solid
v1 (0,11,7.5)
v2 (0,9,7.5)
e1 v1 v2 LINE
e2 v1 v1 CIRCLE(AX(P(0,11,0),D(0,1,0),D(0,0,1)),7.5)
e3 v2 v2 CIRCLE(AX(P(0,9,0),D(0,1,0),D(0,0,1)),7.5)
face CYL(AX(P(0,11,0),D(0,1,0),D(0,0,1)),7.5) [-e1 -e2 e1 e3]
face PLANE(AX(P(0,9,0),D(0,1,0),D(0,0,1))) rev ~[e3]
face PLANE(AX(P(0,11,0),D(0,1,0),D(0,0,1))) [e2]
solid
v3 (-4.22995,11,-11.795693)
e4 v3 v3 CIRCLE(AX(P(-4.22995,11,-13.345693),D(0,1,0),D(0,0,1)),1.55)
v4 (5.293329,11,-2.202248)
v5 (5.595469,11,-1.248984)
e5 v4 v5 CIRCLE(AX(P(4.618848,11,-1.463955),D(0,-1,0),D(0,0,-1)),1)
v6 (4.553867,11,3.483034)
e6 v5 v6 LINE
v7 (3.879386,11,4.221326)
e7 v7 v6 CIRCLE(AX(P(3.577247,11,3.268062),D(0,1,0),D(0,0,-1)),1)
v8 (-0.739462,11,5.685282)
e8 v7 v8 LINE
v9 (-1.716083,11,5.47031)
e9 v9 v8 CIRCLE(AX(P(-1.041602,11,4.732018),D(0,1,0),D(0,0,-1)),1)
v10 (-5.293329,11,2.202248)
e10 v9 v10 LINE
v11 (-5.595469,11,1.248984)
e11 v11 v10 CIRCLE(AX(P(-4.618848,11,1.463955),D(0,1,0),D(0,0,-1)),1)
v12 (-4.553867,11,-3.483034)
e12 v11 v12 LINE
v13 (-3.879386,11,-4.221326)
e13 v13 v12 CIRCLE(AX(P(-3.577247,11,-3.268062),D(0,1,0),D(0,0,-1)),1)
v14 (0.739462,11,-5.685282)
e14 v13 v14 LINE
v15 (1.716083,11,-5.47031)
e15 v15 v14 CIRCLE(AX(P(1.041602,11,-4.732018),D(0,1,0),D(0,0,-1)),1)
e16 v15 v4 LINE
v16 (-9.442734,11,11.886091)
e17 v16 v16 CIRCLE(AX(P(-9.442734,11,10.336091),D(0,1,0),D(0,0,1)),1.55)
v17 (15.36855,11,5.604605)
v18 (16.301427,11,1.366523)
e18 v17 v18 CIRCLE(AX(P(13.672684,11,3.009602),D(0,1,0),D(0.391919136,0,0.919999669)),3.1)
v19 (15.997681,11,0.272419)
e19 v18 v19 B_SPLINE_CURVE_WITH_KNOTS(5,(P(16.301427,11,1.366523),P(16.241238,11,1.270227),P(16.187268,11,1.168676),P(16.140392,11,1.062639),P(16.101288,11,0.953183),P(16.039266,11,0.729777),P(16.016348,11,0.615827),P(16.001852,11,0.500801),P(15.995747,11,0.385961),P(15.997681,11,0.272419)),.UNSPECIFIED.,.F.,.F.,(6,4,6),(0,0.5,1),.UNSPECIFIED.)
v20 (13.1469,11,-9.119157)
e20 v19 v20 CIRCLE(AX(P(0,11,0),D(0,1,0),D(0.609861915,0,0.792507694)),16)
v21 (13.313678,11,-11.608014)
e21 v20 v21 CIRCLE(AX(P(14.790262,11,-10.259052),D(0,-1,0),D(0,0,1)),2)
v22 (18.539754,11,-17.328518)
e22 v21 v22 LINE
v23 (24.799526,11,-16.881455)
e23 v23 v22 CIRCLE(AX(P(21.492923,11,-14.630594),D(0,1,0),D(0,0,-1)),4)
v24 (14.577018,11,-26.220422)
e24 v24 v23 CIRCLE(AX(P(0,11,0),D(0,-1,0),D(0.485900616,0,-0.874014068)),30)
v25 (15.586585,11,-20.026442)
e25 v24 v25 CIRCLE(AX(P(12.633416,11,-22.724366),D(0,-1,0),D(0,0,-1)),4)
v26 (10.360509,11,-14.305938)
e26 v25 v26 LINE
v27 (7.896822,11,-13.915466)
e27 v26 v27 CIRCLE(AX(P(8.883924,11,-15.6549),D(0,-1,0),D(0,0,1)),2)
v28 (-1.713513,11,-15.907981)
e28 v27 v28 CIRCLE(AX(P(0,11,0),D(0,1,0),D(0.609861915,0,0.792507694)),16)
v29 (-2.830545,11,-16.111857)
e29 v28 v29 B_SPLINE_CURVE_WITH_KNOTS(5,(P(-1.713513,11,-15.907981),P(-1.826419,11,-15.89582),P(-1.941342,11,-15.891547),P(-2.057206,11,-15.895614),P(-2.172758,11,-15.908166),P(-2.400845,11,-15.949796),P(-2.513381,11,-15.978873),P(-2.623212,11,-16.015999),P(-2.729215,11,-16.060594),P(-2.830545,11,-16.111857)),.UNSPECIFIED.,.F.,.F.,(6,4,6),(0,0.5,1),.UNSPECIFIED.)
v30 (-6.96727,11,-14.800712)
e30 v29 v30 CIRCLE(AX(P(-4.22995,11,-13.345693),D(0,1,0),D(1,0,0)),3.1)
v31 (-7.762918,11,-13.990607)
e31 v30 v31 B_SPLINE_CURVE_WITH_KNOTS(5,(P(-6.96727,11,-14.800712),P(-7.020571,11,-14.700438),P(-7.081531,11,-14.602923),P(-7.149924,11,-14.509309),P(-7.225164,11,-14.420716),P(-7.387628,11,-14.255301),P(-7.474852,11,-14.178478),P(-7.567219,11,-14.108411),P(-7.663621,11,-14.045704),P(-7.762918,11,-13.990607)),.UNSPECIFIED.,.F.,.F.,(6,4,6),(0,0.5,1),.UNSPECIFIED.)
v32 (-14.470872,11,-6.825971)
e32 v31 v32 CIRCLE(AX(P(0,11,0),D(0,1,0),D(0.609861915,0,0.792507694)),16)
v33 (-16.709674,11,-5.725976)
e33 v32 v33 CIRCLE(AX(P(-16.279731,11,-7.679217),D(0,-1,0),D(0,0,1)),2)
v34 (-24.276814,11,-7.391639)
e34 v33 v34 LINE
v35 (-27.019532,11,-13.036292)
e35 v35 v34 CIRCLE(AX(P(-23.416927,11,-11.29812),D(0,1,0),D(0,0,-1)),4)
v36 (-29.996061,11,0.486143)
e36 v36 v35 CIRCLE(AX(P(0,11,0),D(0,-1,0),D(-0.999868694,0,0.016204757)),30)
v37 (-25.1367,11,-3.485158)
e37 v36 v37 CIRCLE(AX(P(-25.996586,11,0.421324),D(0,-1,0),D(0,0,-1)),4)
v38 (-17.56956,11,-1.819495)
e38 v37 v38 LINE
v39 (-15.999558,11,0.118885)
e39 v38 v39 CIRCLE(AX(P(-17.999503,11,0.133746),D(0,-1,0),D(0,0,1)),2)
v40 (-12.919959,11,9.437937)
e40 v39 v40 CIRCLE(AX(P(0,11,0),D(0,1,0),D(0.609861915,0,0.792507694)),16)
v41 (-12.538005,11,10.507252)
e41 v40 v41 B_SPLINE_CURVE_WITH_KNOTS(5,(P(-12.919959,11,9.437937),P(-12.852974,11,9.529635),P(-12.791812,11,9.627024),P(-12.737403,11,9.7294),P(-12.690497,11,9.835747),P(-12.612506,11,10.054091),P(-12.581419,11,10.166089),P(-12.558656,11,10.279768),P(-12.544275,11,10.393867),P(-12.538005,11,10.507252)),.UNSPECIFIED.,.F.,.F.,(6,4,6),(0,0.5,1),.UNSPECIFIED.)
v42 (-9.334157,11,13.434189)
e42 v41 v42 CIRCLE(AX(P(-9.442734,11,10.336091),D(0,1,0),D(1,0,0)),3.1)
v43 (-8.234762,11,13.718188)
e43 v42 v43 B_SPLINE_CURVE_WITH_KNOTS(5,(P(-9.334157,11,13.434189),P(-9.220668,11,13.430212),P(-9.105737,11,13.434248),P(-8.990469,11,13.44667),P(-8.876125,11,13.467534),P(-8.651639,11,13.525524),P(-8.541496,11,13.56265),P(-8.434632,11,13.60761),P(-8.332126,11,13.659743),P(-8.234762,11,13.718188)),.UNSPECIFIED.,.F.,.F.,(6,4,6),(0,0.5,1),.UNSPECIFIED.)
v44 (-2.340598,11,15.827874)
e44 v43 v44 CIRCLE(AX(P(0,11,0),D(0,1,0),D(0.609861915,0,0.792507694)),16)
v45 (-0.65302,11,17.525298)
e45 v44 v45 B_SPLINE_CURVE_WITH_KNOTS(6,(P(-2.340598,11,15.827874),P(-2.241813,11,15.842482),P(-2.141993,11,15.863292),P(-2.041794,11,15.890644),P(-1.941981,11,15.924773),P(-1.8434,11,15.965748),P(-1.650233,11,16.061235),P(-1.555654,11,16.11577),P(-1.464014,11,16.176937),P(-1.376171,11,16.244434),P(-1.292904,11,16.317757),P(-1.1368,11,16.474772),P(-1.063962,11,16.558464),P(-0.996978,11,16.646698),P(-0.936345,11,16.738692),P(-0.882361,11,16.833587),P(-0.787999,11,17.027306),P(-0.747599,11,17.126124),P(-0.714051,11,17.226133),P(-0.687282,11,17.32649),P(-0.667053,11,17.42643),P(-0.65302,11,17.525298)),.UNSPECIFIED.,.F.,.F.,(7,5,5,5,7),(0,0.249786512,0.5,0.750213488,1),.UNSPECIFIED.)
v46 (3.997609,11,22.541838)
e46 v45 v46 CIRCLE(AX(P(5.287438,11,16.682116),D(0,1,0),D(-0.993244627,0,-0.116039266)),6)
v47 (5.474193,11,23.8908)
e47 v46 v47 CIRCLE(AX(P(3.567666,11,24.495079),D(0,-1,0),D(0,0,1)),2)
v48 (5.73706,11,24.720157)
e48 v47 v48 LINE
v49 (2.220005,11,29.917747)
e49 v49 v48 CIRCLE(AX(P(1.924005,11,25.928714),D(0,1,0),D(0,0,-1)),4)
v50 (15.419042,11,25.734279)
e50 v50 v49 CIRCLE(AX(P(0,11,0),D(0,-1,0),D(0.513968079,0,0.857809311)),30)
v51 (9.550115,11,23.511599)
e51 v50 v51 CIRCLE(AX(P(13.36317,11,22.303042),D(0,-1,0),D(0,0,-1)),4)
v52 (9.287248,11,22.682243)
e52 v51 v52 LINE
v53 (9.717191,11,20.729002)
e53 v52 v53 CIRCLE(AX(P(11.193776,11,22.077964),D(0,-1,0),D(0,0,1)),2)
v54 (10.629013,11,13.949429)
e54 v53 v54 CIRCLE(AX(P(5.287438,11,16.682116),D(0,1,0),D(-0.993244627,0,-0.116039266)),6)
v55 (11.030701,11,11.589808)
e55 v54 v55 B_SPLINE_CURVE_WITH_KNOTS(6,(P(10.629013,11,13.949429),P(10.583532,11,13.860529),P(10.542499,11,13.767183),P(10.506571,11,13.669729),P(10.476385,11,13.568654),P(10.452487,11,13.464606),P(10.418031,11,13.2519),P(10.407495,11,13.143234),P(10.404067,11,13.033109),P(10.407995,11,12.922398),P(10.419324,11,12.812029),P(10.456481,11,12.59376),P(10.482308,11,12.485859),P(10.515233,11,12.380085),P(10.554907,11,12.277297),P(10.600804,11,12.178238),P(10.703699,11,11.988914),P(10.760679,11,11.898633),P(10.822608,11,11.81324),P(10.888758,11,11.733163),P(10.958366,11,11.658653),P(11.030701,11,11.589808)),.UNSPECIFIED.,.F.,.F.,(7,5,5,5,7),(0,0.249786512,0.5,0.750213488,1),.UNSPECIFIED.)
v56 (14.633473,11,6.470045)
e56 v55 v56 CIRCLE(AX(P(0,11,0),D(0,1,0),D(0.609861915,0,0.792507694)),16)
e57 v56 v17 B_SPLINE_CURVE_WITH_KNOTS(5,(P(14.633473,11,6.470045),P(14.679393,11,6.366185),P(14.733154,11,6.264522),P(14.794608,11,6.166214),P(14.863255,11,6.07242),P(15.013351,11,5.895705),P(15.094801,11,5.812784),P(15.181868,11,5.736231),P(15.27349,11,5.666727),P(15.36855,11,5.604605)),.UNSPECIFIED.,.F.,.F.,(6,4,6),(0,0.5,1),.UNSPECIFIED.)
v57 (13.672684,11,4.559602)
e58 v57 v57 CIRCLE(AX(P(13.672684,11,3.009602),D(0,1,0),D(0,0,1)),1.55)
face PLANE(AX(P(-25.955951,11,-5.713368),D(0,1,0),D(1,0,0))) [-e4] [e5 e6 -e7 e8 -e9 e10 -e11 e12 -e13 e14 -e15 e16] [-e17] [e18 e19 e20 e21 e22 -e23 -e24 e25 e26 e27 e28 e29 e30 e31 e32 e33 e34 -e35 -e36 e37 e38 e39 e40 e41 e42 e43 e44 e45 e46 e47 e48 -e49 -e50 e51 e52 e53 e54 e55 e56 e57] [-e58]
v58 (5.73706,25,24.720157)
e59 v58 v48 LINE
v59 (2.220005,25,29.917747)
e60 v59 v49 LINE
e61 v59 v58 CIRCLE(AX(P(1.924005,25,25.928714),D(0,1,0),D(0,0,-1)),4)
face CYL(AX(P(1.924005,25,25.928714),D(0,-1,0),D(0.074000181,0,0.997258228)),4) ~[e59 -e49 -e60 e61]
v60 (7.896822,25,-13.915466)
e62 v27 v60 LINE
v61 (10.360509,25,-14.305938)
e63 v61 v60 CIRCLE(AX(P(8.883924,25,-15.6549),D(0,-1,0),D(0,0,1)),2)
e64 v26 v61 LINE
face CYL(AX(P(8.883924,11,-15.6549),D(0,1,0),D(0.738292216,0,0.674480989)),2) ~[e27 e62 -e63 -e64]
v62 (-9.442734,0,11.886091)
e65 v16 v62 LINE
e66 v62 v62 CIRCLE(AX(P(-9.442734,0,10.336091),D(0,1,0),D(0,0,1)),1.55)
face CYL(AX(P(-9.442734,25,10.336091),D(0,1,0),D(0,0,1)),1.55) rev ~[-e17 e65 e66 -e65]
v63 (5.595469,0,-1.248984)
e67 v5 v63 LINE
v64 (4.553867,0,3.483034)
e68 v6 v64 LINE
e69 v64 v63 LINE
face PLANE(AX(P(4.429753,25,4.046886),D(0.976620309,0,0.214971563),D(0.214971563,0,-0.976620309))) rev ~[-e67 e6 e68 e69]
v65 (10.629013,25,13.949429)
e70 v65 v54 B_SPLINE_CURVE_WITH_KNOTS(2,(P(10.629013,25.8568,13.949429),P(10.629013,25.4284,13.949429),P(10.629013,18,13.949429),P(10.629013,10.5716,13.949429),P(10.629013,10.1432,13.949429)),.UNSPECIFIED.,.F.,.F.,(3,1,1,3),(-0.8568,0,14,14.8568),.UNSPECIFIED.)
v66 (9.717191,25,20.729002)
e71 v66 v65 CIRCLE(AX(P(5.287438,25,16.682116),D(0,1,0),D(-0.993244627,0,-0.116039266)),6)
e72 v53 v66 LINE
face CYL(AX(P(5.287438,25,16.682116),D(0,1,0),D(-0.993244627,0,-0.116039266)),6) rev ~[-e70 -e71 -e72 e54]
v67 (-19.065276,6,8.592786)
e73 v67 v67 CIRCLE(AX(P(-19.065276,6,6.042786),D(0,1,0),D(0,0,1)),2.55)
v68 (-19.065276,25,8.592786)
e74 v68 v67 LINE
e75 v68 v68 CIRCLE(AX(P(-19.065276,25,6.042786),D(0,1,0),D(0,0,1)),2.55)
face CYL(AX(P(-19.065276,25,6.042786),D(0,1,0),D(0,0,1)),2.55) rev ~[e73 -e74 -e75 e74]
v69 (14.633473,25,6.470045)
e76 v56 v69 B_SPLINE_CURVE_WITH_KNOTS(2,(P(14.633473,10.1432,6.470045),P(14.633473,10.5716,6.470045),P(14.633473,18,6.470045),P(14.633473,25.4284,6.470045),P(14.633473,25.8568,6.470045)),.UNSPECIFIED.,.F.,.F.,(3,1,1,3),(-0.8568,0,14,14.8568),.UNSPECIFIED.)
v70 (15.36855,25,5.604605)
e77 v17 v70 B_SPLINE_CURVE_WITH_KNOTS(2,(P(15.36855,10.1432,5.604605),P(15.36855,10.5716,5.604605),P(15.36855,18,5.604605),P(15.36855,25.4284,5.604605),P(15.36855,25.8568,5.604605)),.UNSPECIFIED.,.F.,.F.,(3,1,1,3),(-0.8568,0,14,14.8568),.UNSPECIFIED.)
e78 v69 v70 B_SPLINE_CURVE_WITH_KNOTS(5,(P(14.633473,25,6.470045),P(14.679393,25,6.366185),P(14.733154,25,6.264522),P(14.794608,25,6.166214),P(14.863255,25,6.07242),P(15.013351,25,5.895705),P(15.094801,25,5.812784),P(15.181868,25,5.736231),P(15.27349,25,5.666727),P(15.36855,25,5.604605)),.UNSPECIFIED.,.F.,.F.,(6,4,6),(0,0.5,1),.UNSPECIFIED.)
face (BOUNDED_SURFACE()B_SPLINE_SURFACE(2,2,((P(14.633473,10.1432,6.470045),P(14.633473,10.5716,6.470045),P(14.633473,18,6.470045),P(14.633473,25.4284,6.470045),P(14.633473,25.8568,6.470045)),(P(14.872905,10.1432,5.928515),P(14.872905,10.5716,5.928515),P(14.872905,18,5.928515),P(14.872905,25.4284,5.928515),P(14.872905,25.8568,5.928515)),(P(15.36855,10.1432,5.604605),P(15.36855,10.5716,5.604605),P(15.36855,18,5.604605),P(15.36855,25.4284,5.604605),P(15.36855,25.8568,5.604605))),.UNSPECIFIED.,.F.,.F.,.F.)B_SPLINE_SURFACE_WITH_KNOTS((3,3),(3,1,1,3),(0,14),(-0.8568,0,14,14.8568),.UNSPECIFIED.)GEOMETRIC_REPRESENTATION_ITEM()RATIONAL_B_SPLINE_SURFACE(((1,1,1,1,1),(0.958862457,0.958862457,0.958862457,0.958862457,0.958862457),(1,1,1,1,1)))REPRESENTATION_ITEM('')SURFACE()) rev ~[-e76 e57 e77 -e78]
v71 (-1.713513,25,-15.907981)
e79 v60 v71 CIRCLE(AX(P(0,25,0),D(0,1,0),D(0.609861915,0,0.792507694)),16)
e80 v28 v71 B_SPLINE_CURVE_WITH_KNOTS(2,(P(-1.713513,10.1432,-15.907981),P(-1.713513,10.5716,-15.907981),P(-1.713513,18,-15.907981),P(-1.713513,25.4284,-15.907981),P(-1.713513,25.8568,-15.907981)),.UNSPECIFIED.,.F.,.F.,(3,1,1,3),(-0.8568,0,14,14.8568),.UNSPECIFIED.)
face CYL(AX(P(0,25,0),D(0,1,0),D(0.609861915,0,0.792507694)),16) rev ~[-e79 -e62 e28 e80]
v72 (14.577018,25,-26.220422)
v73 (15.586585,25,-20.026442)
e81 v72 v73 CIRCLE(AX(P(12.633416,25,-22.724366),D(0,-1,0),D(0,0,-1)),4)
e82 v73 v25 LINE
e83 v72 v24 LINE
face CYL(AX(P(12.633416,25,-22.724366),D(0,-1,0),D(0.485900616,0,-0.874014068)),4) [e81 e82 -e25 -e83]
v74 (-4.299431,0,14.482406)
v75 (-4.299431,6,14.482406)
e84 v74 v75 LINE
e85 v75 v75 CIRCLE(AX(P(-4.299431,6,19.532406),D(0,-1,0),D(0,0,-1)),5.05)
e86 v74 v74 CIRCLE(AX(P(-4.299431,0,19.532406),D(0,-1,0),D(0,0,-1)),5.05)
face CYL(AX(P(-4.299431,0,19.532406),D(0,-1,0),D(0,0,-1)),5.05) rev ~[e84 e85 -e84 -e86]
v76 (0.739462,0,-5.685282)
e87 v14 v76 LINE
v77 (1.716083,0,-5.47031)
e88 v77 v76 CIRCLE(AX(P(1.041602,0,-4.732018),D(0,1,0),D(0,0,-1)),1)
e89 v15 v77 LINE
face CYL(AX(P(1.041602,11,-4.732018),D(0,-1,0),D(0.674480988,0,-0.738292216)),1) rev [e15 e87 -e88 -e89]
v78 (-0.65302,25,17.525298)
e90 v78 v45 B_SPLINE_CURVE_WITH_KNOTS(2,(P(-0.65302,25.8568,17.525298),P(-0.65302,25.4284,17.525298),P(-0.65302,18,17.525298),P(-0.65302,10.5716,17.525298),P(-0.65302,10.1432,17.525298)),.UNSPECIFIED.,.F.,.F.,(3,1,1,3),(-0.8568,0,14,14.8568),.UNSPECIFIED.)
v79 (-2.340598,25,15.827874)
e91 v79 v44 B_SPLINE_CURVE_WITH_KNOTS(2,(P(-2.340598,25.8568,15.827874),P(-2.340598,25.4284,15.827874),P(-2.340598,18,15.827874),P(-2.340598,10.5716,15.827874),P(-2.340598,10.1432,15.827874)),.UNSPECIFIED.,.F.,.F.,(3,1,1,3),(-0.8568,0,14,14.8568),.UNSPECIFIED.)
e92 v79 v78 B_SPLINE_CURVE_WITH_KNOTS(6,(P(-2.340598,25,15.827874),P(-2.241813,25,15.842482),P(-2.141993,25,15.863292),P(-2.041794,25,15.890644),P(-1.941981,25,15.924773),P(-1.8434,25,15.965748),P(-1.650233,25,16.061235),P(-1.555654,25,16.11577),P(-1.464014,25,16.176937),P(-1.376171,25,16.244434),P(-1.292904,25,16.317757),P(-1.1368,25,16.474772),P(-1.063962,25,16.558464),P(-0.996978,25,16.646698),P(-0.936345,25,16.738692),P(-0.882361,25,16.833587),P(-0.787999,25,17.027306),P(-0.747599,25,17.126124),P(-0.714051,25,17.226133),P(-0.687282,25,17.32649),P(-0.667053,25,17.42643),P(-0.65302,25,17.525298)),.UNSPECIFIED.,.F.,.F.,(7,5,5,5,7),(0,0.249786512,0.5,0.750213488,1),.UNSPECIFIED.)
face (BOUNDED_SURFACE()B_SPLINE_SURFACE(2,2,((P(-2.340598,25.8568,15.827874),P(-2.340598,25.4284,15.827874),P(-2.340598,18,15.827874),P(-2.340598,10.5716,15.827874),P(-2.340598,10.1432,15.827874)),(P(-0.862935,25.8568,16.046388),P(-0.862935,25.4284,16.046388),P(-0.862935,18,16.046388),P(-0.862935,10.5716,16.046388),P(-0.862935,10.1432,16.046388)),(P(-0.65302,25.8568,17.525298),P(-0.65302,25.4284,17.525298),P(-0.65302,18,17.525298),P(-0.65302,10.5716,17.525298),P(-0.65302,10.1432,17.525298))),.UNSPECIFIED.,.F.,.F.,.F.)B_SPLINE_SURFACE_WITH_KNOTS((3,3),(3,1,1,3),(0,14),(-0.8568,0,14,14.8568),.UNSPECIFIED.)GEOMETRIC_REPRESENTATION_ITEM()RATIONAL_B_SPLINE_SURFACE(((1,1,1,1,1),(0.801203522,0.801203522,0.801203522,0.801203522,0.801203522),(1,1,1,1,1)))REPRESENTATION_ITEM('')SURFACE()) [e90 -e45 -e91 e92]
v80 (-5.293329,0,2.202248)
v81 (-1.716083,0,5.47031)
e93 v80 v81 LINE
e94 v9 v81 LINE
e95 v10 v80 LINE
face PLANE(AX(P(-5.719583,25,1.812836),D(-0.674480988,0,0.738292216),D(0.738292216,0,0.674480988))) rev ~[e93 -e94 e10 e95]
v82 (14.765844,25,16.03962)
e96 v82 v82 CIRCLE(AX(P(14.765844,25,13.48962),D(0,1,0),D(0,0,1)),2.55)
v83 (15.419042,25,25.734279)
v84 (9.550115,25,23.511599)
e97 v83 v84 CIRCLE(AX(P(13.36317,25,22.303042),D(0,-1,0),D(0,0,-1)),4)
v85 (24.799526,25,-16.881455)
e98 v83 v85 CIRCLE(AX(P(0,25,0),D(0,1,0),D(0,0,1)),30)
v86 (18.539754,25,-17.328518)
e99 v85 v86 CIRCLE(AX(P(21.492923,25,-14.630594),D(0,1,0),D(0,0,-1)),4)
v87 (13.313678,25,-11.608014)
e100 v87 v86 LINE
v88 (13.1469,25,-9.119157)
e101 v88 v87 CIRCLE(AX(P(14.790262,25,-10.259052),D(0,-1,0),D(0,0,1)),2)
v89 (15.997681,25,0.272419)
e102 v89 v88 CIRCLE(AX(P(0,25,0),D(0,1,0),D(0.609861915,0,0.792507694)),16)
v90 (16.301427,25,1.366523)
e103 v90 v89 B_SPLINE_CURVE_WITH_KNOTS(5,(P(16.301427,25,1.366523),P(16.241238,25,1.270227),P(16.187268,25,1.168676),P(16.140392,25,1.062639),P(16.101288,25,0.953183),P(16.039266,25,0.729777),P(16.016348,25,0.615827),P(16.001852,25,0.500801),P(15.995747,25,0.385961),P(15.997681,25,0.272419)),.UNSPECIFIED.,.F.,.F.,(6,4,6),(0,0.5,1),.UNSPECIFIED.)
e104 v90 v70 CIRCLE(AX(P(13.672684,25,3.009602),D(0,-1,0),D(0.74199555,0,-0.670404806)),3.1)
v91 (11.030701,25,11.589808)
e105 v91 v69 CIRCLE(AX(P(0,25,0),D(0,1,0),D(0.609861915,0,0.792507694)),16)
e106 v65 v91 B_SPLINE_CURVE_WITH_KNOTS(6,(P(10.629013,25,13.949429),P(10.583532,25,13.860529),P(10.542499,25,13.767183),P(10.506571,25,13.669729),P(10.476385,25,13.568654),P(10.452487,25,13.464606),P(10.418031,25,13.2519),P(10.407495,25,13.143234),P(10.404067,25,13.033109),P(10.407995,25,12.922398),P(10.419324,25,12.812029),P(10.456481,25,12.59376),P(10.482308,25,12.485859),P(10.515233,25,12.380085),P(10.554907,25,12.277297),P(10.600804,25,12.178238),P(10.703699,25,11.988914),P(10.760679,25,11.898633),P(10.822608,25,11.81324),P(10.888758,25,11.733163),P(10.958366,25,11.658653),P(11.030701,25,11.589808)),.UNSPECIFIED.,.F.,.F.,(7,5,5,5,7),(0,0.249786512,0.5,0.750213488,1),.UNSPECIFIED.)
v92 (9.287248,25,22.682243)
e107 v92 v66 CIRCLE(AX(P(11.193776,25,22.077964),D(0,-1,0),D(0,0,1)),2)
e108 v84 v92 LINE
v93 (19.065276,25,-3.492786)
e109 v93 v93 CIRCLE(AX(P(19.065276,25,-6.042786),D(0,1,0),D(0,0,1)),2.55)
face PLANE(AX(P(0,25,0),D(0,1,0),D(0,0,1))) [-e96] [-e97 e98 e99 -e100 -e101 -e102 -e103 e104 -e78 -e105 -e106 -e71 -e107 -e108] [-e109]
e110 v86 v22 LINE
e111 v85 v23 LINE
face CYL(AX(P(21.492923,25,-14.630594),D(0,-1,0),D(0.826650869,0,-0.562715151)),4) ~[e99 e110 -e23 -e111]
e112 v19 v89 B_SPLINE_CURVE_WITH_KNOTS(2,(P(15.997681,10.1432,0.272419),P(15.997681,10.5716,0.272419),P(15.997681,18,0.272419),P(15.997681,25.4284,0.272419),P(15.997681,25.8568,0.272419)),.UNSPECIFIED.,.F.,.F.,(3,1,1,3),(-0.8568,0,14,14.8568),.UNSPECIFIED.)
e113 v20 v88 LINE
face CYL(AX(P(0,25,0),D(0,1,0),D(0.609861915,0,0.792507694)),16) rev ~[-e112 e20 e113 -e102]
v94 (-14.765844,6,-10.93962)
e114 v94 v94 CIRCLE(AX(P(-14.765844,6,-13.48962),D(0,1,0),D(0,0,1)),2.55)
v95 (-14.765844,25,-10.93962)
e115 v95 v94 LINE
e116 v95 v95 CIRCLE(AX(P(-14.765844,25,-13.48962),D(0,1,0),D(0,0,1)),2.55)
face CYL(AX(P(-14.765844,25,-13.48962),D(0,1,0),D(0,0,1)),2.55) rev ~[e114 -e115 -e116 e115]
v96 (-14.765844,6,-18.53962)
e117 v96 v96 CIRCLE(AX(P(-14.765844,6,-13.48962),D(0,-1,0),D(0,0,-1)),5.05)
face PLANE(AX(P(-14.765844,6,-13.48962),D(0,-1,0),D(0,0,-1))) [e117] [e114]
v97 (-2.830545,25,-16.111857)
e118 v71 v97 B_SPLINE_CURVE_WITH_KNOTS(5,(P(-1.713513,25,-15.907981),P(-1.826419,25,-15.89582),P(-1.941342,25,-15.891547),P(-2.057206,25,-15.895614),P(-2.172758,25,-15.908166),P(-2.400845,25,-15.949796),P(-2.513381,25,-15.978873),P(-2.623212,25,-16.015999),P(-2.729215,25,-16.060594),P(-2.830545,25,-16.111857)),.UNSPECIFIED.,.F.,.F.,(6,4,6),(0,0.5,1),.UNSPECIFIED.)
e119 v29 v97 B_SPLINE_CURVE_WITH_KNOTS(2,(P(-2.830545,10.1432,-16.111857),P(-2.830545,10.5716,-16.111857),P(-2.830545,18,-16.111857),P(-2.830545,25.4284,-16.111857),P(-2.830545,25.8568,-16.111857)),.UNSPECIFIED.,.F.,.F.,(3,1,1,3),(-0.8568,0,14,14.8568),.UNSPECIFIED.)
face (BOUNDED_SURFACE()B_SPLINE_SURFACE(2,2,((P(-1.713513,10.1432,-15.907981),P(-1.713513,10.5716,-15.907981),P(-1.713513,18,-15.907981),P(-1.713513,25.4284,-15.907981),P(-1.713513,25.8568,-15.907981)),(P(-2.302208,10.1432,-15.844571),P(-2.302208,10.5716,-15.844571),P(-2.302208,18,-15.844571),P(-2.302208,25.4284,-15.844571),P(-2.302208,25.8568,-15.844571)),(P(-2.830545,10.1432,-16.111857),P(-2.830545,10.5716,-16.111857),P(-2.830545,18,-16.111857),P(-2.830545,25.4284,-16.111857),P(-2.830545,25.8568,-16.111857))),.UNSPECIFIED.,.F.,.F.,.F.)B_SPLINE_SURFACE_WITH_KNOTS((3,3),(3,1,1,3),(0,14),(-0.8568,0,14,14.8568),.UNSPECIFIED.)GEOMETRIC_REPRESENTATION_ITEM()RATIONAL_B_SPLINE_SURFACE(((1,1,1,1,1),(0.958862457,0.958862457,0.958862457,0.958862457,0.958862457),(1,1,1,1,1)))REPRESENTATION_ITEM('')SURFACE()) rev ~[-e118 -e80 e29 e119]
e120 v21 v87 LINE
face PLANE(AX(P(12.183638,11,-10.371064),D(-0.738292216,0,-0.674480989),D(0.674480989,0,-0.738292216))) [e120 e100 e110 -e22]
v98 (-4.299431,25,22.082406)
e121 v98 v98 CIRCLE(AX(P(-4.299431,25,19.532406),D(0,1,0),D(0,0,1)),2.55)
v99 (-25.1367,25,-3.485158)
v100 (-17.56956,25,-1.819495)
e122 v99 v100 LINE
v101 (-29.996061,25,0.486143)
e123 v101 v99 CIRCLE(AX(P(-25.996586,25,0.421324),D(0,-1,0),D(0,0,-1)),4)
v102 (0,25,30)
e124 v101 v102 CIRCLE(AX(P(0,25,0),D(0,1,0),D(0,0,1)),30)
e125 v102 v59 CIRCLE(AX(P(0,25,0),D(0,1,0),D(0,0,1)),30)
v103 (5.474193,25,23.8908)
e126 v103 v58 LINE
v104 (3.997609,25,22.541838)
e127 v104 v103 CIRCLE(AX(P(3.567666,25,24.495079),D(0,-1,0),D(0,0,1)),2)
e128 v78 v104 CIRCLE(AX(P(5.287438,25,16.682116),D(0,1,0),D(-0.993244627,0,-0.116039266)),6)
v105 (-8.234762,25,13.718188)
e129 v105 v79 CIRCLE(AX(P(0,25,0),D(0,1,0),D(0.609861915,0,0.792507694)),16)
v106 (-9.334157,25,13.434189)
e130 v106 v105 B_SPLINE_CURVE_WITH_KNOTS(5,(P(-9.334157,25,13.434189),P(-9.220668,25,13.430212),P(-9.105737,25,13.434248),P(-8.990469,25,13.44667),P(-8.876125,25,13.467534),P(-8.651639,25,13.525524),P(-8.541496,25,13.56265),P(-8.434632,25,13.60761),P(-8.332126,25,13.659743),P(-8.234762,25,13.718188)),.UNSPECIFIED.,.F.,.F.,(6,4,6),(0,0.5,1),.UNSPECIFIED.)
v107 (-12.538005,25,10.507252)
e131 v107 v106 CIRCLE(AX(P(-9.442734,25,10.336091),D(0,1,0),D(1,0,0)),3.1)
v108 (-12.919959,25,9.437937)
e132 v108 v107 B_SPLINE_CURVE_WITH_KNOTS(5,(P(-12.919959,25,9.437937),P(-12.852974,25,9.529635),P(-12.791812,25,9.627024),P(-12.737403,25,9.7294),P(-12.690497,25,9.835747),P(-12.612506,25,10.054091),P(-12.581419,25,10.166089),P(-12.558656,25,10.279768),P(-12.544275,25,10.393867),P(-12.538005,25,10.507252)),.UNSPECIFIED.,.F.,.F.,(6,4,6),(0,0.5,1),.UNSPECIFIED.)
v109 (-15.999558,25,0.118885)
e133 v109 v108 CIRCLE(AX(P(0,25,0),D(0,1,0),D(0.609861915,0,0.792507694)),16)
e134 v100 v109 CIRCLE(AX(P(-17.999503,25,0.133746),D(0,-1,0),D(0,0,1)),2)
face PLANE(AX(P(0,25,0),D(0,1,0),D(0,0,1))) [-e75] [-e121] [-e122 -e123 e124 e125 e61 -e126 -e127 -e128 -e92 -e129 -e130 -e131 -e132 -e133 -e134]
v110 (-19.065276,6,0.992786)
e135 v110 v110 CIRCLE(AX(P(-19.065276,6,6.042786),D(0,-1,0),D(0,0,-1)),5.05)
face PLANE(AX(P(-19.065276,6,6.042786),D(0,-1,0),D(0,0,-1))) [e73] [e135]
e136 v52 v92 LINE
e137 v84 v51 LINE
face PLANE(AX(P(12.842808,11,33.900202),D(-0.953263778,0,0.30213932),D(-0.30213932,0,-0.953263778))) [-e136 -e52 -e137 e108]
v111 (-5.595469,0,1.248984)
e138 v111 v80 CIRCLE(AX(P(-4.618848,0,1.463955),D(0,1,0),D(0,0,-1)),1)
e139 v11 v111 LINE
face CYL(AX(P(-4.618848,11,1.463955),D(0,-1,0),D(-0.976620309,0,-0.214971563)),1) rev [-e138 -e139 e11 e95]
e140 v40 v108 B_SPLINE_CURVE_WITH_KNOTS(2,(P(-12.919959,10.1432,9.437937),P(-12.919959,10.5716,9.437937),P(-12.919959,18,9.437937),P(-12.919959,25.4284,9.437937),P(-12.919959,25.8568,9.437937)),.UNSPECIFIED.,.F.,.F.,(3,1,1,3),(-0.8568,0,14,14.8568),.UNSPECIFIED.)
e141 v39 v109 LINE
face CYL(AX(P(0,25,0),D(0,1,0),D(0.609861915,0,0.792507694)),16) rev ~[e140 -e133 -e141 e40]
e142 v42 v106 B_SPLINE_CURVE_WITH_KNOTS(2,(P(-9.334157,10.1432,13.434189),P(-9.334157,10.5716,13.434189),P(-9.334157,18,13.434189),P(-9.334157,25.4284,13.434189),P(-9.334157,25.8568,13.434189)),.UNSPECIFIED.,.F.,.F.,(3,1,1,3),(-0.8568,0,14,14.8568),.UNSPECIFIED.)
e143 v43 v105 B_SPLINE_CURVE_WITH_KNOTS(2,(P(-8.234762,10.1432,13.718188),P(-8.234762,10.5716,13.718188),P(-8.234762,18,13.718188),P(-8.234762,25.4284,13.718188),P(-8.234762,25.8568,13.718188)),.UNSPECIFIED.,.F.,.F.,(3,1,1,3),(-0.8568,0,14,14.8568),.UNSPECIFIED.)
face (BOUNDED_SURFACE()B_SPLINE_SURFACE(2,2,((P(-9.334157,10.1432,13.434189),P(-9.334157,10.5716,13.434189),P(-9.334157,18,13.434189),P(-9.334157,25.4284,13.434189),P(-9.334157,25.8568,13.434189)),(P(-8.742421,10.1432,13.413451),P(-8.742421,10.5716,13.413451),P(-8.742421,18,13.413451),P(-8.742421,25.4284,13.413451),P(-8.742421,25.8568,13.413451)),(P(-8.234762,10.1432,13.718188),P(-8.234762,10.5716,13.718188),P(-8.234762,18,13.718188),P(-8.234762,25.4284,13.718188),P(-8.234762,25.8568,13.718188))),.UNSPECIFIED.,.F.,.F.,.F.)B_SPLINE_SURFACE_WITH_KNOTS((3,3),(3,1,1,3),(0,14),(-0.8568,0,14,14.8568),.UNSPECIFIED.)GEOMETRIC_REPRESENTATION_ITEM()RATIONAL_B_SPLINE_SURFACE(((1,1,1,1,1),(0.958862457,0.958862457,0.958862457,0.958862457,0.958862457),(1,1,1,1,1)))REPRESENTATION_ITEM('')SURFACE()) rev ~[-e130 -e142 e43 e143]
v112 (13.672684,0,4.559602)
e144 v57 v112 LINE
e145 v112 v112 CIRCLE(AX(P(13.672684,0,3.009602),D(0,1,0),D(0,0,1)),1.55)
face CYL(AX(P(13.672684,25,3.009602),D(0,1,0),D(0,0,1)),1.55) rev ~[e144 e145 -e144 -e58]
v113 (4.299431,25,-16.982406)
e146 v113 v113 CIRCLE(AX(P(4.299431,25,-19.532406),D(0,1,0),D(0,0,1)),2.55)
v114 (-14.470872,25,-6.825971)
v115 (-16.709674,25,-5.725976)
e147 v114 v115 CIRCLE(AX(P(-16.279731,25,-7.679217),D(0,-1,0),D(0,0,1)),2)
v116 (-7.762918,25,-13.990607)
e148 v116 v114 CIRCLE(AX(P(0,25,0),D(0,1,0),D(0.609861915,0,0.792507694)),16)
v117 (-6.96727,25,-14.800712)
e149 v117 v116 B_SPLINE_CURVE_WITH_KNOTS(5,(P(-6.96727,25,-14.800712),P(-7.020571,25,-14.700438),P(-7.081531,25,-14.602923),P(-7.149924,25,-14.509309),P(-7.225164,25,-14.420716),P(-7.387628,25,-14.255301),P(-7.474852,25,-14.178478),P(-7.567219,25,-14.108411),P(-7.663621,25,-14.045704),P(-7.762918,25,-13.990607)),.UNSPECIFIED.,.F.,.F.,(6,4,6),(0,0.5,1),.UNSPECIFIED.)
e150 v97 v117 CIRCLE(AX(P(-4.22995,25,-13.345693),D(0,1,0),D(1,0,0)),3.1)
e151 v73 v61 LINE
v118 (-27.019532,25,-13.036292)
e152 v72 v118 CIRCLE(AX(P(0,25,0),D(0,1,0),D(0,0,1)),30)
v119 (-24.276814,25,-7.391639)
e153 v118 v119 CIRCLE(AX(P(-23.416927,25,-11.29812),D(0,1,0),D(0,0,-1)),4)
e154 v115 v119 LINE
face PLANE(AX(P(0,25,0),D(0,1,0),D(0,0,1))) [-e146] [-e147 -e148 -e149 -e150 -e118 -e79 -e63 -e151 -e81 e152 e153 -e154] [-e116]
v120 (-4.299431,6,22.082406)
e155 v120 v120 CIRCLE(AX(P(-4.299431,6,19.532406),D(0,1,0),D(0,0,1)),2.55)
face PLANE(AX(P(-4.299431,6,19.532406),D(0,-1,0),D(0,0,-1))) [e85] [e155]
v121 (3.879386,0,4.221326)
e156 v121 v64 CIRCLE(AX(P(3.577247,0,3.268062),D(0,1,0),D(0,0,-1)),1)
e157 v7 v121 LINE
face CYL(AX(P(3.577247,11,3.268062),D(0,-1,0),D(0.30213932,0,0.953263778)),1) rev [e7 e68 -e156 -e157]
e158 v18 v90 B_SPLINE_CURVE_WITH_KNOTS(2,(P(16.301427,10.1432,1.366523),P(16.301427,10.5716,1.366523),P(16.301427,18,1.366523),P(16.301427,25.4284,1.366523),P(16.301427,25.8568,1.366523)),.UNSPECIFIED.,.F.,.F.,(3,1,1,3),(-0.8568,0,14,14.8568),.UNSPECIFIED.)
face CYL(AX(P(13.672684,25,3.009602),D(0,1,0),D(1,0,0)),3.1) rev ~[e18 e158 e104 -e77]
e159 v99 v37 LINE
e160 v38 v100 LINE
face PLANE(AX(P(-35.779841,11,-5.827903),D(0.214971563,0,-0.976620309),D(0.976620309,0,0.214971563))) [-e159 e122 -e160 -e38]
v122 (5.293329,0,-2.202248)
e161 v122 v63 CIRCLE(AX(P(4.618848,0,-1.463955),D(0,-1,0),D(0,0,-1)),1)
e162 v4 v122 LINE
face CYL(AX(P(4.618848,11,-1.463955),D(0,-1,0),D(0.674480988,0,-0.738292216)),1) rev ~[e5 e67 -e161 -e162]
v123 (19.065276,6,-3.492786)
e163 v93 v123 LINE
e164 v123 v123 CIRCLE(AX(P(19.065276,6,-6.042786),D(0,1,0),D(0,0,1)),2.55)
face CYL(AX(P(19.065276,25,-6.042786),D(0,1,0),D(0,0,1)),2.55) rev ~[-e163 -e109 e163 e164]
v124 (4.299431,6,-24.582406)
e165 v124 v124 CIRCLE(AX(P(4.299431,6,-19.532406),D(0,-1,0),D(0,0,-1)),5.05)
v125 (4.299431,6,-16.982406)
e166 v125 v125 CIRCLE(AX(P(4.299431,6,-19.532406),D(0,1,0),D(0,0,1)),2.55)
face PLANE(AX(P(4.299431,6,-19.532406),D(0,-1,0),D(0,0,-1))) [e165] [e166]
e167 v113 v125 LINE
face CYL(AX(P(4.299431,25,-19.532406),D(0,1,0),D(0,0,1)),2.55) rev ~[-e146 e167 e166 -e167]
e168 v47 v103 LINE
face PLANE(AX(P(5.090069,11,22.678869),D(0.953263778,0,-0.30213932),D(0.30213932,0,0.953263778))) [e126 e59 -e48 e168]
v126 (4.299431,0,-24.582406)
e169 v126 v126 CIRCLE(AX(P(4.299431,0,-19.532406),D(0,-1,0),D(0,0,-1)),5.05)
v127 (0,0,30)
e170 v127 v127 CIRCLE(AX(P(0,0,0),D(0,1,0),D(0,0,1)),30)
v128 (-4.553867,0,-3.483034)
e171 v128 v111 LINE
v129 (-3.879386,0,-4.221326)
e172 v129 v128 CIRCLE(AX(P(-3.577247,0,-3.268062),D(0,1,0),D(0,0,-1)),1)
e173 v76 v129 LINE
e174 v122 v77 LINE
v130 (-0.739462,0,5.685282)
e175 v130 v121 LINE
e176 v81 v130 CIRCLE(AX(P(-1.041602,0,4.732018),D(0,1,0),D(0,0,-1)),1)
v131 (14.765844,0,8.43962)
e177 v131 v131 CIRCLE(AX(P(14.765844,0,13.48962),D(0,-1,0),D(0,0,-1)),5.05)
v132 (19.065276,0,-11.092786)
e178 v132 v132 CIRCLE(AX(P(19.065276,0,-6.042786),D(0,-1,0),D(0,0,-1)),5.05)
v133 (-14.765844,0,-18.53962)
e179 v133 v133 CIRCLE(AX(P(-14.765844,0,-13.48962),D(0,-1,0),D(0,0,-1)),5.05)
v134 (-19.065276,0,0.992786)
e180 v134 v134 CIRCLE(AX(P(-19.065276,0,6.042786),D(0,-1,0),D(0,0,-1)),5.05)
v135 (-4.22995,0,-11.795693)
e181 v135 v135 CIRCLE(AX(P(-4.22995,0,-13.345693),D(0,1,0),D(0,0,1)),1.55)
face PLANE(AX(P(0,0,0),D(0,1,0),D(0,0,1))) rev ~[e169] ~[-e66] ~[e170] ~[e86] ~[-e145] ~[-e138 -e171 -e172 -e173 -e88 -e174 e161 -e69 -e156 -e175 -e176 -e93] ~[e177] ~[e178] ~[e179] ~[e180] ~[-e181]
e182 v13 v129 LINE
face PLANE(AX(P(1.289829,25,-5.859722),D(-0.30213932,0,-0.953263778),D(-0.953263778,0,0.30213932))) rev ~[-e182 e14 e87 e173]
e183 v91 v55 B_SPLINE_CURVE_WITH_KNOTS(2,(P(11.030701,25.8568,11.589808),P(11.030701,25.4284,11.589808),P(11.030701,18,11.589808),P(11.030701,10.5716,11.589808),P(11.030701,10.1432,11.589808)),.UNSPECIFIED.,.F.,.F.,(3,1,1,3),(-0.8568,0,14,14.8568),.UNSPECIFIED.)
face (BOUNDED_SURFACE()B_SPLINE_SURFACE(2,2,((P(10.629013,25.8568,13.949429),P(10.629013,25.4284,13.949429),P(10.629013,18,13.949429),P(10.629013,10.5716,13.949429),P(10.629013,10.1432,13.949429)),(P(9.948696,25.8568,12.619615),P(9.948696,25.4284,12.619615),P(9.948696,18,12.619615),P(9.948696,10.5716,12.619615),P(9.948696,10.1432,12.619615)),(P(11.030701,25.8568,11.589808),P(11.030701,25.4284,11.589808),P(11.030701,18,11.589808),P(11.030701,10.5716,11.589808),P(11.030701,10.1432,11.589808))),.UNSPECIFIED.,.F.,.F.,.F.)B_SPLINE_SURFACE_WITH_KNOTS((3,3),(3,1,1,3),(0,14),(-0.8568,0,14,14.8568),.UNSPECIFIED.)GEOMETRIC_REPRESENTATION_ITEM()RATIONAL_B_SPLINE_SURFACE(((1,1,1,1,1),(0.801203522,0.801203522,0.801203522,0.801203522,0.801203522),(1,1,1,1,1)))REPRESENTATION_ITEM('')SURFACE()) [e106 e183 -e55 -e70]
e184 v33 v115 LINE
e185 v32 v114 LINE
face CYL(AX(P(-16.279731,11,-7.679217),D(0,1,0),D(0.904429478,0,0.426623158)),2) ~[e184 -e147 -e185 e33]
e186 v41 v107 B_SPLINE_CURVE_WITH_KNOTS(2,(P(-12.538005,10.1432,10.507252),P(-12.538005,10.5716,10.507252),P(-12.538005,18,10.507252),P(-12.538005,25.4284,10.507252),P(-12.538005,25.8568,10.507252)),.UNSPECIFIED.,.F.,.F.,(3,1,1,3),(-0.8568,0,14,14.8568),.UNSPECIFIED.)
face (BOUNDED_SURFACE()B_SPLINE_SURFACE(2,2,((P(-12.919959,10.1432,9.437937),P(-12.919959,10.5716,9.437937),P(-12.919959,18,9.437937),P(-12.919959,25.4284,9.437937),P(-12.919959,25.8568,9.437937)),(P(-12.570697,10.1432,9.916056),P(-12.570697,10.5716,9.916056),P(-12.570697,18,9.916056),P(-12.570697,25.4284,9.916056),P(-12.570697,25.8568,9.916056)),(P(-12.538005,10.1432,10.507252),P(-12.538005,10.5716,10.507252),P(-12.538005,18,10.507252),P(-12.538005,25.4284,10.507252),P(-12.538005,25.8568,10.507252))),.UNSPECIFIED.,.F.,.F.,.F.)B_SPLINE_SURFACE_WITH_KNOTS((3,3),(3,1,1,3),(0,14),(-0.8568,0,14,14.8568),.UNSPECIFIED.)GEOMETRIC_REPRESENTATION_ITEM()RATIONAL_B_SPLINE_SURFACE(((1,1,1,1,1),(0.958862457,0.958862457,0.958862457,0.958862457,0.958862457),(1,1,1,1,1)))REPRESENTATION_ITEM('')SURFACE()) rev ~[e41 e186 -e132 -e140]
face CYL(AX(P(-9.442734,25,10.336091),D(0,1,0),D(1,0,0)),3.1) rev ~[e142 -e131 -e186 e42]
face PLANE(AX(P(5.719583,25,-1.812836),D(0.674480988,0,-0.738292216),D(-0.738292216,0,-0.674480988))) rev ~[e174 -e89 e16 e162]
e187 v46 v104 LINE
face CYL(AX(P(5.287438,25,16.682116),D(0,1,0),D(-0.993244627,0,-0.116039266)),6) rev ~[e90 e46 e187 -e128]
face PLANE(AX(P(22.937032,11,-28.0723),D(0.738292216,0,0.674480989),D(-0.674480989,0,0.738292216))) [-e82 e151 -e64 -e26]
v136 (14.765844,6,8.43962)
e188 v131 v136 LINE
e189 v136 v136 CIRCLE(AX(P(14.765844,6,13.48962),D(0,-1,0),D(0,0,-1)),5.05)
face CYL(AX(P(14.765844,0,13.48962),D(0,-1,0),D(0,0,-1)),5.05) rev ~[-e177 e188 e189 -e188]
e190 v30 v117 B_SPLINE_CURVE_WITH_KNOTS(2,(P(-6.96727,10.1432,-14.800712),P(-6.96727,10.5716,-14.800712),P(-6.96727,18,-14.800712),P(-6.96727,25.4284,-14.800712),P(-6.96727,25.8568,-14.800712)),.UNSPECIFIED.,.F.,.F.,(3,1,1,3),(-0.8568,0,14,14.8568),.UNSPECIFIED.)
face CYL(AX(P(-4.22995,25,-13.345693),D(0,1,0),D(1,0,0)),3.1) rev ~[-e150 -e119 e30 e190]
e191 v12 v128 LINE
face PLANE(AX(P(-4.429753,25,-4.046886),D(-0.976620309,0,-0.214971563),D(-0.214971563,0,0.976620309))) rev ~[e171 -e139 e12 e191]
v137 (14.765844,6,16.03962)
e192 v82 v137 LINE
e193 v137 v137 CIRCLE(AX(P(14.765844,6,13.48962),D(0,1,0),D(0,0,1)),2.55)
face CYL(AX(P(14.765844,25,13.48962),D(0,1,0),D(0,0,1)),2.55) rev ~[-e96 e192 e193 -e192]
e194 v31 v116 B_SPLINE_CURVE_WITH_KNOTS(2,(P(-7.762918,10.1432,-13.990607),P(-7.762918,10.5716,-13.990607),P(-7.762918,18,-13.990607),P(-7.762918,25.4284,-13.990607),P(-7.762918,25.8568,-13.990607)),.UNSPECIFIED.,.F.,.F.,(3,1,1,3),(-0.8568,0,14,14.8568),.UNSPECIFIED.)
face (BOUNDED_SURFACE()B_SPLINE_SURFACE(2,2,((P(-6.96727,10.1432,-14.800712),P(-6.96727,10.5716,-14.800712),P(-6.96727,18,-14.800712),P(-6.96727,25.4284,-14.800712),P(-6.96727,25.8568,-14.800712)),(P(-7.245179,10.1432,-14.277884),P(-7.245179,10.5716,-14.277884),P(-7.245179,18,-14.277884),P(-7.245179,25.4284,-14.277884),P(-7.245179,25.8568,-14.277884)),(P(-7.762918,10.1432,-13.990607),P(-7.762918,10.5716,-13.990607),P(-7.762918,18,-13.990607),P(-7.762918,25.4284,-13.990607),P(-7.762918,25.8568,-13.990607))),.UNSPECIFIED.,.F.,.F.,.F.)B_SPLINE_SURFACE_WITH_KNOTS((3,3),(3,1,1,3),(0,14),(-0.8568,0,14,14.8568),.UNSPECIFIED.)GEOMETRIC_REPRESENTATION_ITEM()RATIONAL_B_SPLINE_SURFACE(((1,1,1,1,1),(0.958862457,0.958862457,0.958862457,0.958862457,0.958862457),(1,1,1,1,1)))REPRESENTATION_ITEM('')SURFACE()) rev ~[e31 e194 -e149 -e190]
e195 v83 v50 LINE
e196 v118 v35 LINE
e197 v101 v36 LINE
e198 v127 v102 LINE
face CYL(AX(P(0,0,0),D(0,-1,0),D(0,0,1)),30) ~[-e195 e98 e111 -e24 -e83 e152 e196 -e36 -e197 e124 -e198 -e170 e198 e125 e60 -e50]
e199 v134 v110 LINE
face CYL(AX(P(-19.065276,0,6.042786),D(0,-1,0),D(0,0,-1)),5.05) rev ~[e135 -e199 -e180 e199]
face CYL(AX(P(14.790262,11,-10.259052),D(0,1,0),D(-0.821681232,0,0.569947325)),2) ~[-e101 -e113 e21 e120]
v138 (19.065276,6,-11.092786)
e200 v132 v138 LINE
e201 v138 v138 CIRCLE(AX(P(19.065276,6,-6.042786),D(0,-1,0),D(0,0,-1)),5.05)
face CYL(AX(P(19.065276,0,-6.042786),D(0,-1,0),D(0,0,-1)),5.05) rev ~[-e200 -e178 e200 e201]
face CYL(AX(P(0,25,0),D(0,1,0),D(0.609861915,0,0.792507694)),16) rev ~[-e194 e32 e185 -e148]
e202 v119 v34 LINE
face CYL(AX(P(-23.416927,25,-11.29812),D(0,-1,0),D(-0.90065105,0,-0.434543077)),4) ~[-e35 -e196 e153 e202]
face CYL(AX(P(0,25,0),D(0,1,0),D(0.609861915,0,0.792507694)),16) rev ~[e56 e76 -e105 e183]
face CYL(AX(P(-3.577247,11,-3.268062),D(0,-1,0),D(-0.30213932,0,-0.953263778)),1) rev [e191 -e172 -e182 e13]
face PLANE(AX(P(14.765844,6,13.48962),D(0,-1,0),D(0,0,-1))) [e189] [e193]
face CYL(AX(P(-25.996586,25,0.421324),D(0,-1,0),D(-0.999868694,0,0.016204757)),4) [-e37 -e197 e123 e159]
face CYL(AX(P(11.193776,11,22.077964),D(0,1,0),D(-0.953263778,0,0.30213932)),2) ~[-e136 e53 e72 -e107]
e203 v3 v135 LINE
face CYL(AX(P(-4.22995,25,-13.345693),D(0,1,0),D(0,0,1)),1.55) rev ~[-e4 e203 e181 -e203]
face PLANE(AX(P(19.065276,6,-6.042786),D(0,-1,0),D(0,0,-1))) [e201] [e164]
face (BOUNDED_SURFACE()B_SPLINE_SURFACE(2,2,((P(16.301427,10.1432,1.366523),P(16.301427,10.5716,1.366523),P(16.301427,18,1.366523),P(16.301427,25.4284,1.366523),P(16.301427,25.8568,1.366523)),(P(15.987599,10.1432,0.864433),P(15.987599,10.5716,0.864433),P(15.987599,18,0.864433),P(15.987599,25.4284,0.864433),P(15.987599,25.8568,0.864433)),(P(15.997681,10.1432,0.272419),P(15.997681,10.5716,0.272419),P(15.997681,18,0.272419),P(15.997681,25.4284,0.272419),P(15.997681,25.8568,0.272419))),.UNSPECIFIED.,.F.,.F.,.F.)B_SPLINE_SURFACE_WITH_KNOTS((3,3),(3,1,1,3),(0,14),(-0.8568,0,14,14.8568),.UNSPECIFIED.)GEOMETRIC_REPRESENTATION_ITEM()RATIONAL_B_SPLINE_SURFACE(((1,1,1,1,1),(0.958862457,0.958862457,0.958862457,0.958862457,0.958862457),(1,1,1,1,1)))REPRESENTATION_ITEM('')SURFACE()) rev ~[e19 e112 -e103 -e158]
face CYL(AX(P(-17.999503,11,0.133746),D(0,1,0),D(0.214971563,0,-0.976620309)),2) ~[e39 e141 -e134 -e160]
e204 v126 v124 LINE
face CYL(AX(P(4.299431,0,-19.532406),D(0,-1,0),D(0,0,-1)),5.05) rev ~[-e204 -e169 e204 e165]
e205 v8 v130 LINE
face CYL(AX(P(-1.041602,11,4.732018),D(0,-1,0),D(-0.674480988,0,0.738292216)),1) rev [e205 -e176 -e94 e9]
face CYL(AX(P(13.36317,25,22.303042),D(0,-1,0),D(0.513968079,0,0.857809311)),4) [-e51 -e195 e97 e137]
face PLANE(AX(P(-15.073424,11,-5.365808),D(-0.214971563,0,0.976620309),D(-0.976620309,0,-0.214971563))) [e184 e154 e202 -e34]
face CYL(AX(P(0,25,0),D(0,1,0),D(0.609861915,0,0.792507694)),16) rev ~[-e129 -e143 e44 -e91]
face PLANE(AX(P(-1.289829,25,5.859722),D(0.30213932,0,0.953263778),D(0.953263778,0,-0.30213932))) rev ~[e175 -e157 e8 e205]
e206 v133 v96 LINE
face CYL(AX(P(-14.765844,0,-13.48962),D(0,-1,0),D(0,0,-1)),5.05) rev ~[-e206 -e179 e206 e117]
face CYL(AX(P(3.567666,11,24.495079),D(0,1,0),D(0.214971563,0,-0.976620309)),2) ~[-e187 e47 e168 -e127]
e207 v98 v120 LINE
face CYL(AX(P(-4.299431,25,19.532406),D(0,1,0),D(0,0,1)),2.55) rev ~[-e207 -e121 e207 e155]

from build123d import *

# Parameters (mm, degrees)
SKETCH_1_R          = 30
EXTRUDE_1_DEPTH     = 25
SKETCH_3_R          = 2.55
CUT_EXTRUDE_2_DEPTH = 50.244289009
SKETCH_2_R          = 1.55
CUT_EXTRUDE_1_DEPTH = 50.244289009
SKETCH_6_R          = 16
SKETCH_6_R_2        = 6
CUT_EXTRUDE_4_DEPTH = 14
CUT_EXTRUDE_5_DEPTH = 14
SKETCH_9_R          = 5.05
CUT_EXTRUDE_6_DEPTH = 6
SKETCH_11_R         = 3.1
CUT_EXTRUDE_7_DEPTH = 14
FILLET_1_R          = 4
FILLET_2_R          = 1
FILLET_3_R          = 2
SKETCH_12_R         = 7.5
EXTRUDE_2_DEPTH     = 2


with BuildPart() as part:
    # 草图1 → 凸台-拉伸1 (new body)
    with BuildSketch(Plane(origin=(0, 0, 0), x_dir=(1, 0, 0), z_dir=(0, 1, 0))):
        with Locations(Location((0, 0, 0), (0, 0, 270))):
            Circle(SKETCH_1_R)
    extrude(amount=EXTRUDE_1_DEPTH)

    # 草图3 → 切除-拉伸2 (cut, through all)
    with BuildSketch(Plane(origin=(0, 25, 0), x_dir=(1, 0, 0), z_dir=(0, 1, 0))):
        with Locations(Location((-14.765844318, 13.489619771, 0), (0, 0, 270))):
            Circle(SKETCH_3_R)
        with Locations(Location((4.299431251, 19.532406173, 0), (0, 0, 270))):
            Circle(SKETCH_3_R)
        with Locations(Location((19.065275568, 6.042786402, 0), (0, 0, 270))):
            Circle(SKETCH_3_R)
        with Locations(Location((14.765844318, -13.489619771, 0), (0, 0, 270))):
            Circle(SKETCH_3_R)
        with Locations(Location((-4.299431251, -19.532406173, 0), (0, 0, 270))):
            Circle(SKETCH_3_R)
        with Locations(Location((-19.065275568, -6.042786402, 0), (0, 0, 270))):
            Circle(SKETCH_3_R)
    extrude(amount=-CUT_EXTRUDE_2_DEPTH, mode=Mode.SUBTRACT)

    # 草图2 → 切除-拉伸1 (cut, through all)
    with BuildSketch(Plane(origin=(0, 25, 0), x_dir=(1, 0, 0), z_dir=(0, 1, 0))):
        with Locations(Location((-4.229950481, 13.345692898, 0), (0, 0, 270))):
            Circle(SKETCH_2_R)
        with Locations(Location((13.672684321, -3.009601875, 0), (0, 0, 270))):
            Circle(SKETCH_2_R)
        with Locations(Location((-9.44273384, -10.336091023, 0), (0, 0, 270))):
            Circle(SKETCH_2_R)
        Polygon((-1.289829375, -5.859721852), (4.429753295, -4.046885931), (5.719582671, 1.812835921), (1.289829375, 5.859721852), (-4.429753295, 4.046885931), (-5.719582671, -1.812835921), align=None)
    extrude(amount=-CUT_EXTRUDE_1_DEPTH, mode=Mode.SUBTRACT)

    # 草图6 → 切除-拉伸4 (cut)
    with BuildSketch(Plane(origin=(0, 25, 0), x_dir=(1, 0, 0), z_dir=(0, 1, 0))):
        Circle(SKETCH_6_R)
        with Locations((5.287438102, -16.682116122)):
            Circle(SKETCH_6_R_2)
    extrude(amount=-CUT_EXTRUDE_4_DEPTH, mode=Mode.SUBTRACT)

    # 草图8 → 切除-拉伸5 (cut)
    with BuildSketch(Plane(origin=(0, 11, 0), x_dir=(1, 0, 0), z_dir=(0, 1, 0))):
        with BuildLine():
            Line((-15.073423647, 5.365808378), (-34.919954427, 9.734384061))
            ThreePointArc((-34.919954427, 9.734384061), (-37.303138169, 8.211086569), (-35.779840677, 5.827902826))
            Line((-35.779840677, 5.827902826), (-15.933309897, 1.459327143))
            ThreePointArc((-15.933309897, 1.459327143), (-15.625924939, 3.439545), (-15.073423647, 5.365808378))
        make_face()
        with BuildLine():
            ThreePointArc((8.903123755, -21.470311738), (7.100274022, -22.401698793), (5.090068642, -22.678869018))
            Line((5.090068642, -22.678869018), (9.029753326, -35.108759663))
            ThreePointArc((9.029753326, -35.108759663), (11.540559523, -36.41100858), (12.84280844, -33.900202383))
            Line((12.84280844, -33.900202383), (8.903123755, -21.470311738))
        make_face()
        with BuildLine():
            Line((22.937032237, 28.072299556), (9.230469327, 13.068987566))
            ThreePointArc((9.230469327, 13.068987566), (10.791695817, 11.812675454), (12.183638191, 10.371063612))
            Line((12.183638191, 10.371063612), (25.8902011, 25.374375602))
            ThreePointArc((25.8902011, 25.374375602), (25.762578646, 28.199922011), (22.937032237, 28.072299556))
        make_face()
    extrude(amount=CUT_EXTRUDE_5_DEPTH, mode=Mode.SUBTRACT)

    # 草图9 → 切除-拉伸6 (cut)
    with BuildSketch(Plane.XZ):
        with Locations(Location((-4.299431251, 19.532406173, 0), (0, 0, 270))):
            Circle(SKETCH_9_R)
        with Locations(Location((14.765844318, 13.489619771, 0), (0, 0, 270))):
            Circle(SKETCH_9_R)
        with Locations(Location((19.065275568, -6.042786402, 0), (0, 0, 270))):
            Circle(SKETCH_9_R)
        with Locations(Location((4.299431251, -19.532406173, 0), (0, 0, 270))):
            Circle(SKETCH_9_R)
        with Locations(Location((-14.765844318, -13.489619771, 0), (0, 0, 270))):
            Circle(SKETCH_9_R)
        with Locations(Location((-19.065275568, 6.042786402, 0), (0, 0, 270))):
            Circle(SKETCH_9_R)
    extrude(amount=-CUT_EXTRUDE_6_DEPTH, mode=Mode.SUBTRACT)

    # 草图11 → 切除-拉伸7 (cut)
    with BuildSketch(Plane(origin=(0, 25, 0), x_dir=(1, 0, 0), z_dir=(0, 1, 0))):
        with Locations((-9.44273384, -10.336091023)):
            Circle(SKETCH_11_R)
        with Locations((13.672684321, -3.009601875)):
            Circle(SKETCH_11_R)
        with Locations((-4.229950481, 13.345692898)):
            Circle(SKETCH_11_R)
    extrude(amount=-CUT_EXTRUDE_7_DEPTH, mode=Mode.SUBTRACT)

    # 圆角1
    fillet_1_edges = [part.edges().sort_by_distance(p)[0] for p in [
        (-28.803485611, 18, -8.388040096),
        (-29.663371861, 18, -4.481558862),
        (7.137486994, 18, 29.138570305),
        (10.950542108, 18, 27.930013024),
        (21.665998617, 18, -20.750530209),
        (18.712829753, 18, -23.448454163),
    ]]
    fillet(fillet_1_edges, radius=FILLET_1_R)

    # 圆角2
    fillet_2_edges = [part.edges().sort_by_distance(p)[0] for p in [
        (-1.289829375, 5.5, 5.859721852),
        (-5.719582671, 5.5, 1.812835921),
        (-4.429753295, 5.5, -4.046885931),
        (1.289829375, 5.5, -5.859721852),
        (5.719582671, 5.5, -1.812835921),
        (4.429753295, 5.5, 4.046885931),
    ]]
    fillet(fillet_2_edges, radius=FILLET_2_R)

    # 圆角3
    fillet_3_edges = [part.edges().sort_by_distance(p)[0] for p in [
        (-15.073423647, 18, -5.365808378),
        (-15.933309897, 18, -1.459327143),
        (5.090068642, 18, 22.678869018),
        (8.903123755, 18, 21.470311738),
        (12.183638191, 18, -10.371063612),
        (9.230469327, 18, -13.068987566),
        (-8.793005403, 18, 13.367238158),
        (-12.520112064, 18, 9.962268513),
        (15.972870525, 18, 0.931346976),
        (14.887633643, 18, 5.861600849),
        (-7.179865122, 18, -14.298585134),
        (-2.367521579, 18, -15.823869362),
        (-0.672029659, 18, 15.985880524),
        (9.757790642, 18, 12.680123098),
    ]]
    fillet(fillet_3_edges, radius=FILLET_3_R)


with BuildPart() as body_2:
    # 草图12 → 凸台-拉伸2 (new body)
    with BuildSketch(Plane(origin=(0, 11, 0), x_dir=(1, 0, 0), z_dir=(0, 1, 0))):
        with Locations(Location((0, 0, 0), (0, 0, 270))):
            Circle(SKETCH_12_R)
    extrude(amount=-EXTRUDE_2_DEPTH)


solid = Compound([part.part, body_2.part])
